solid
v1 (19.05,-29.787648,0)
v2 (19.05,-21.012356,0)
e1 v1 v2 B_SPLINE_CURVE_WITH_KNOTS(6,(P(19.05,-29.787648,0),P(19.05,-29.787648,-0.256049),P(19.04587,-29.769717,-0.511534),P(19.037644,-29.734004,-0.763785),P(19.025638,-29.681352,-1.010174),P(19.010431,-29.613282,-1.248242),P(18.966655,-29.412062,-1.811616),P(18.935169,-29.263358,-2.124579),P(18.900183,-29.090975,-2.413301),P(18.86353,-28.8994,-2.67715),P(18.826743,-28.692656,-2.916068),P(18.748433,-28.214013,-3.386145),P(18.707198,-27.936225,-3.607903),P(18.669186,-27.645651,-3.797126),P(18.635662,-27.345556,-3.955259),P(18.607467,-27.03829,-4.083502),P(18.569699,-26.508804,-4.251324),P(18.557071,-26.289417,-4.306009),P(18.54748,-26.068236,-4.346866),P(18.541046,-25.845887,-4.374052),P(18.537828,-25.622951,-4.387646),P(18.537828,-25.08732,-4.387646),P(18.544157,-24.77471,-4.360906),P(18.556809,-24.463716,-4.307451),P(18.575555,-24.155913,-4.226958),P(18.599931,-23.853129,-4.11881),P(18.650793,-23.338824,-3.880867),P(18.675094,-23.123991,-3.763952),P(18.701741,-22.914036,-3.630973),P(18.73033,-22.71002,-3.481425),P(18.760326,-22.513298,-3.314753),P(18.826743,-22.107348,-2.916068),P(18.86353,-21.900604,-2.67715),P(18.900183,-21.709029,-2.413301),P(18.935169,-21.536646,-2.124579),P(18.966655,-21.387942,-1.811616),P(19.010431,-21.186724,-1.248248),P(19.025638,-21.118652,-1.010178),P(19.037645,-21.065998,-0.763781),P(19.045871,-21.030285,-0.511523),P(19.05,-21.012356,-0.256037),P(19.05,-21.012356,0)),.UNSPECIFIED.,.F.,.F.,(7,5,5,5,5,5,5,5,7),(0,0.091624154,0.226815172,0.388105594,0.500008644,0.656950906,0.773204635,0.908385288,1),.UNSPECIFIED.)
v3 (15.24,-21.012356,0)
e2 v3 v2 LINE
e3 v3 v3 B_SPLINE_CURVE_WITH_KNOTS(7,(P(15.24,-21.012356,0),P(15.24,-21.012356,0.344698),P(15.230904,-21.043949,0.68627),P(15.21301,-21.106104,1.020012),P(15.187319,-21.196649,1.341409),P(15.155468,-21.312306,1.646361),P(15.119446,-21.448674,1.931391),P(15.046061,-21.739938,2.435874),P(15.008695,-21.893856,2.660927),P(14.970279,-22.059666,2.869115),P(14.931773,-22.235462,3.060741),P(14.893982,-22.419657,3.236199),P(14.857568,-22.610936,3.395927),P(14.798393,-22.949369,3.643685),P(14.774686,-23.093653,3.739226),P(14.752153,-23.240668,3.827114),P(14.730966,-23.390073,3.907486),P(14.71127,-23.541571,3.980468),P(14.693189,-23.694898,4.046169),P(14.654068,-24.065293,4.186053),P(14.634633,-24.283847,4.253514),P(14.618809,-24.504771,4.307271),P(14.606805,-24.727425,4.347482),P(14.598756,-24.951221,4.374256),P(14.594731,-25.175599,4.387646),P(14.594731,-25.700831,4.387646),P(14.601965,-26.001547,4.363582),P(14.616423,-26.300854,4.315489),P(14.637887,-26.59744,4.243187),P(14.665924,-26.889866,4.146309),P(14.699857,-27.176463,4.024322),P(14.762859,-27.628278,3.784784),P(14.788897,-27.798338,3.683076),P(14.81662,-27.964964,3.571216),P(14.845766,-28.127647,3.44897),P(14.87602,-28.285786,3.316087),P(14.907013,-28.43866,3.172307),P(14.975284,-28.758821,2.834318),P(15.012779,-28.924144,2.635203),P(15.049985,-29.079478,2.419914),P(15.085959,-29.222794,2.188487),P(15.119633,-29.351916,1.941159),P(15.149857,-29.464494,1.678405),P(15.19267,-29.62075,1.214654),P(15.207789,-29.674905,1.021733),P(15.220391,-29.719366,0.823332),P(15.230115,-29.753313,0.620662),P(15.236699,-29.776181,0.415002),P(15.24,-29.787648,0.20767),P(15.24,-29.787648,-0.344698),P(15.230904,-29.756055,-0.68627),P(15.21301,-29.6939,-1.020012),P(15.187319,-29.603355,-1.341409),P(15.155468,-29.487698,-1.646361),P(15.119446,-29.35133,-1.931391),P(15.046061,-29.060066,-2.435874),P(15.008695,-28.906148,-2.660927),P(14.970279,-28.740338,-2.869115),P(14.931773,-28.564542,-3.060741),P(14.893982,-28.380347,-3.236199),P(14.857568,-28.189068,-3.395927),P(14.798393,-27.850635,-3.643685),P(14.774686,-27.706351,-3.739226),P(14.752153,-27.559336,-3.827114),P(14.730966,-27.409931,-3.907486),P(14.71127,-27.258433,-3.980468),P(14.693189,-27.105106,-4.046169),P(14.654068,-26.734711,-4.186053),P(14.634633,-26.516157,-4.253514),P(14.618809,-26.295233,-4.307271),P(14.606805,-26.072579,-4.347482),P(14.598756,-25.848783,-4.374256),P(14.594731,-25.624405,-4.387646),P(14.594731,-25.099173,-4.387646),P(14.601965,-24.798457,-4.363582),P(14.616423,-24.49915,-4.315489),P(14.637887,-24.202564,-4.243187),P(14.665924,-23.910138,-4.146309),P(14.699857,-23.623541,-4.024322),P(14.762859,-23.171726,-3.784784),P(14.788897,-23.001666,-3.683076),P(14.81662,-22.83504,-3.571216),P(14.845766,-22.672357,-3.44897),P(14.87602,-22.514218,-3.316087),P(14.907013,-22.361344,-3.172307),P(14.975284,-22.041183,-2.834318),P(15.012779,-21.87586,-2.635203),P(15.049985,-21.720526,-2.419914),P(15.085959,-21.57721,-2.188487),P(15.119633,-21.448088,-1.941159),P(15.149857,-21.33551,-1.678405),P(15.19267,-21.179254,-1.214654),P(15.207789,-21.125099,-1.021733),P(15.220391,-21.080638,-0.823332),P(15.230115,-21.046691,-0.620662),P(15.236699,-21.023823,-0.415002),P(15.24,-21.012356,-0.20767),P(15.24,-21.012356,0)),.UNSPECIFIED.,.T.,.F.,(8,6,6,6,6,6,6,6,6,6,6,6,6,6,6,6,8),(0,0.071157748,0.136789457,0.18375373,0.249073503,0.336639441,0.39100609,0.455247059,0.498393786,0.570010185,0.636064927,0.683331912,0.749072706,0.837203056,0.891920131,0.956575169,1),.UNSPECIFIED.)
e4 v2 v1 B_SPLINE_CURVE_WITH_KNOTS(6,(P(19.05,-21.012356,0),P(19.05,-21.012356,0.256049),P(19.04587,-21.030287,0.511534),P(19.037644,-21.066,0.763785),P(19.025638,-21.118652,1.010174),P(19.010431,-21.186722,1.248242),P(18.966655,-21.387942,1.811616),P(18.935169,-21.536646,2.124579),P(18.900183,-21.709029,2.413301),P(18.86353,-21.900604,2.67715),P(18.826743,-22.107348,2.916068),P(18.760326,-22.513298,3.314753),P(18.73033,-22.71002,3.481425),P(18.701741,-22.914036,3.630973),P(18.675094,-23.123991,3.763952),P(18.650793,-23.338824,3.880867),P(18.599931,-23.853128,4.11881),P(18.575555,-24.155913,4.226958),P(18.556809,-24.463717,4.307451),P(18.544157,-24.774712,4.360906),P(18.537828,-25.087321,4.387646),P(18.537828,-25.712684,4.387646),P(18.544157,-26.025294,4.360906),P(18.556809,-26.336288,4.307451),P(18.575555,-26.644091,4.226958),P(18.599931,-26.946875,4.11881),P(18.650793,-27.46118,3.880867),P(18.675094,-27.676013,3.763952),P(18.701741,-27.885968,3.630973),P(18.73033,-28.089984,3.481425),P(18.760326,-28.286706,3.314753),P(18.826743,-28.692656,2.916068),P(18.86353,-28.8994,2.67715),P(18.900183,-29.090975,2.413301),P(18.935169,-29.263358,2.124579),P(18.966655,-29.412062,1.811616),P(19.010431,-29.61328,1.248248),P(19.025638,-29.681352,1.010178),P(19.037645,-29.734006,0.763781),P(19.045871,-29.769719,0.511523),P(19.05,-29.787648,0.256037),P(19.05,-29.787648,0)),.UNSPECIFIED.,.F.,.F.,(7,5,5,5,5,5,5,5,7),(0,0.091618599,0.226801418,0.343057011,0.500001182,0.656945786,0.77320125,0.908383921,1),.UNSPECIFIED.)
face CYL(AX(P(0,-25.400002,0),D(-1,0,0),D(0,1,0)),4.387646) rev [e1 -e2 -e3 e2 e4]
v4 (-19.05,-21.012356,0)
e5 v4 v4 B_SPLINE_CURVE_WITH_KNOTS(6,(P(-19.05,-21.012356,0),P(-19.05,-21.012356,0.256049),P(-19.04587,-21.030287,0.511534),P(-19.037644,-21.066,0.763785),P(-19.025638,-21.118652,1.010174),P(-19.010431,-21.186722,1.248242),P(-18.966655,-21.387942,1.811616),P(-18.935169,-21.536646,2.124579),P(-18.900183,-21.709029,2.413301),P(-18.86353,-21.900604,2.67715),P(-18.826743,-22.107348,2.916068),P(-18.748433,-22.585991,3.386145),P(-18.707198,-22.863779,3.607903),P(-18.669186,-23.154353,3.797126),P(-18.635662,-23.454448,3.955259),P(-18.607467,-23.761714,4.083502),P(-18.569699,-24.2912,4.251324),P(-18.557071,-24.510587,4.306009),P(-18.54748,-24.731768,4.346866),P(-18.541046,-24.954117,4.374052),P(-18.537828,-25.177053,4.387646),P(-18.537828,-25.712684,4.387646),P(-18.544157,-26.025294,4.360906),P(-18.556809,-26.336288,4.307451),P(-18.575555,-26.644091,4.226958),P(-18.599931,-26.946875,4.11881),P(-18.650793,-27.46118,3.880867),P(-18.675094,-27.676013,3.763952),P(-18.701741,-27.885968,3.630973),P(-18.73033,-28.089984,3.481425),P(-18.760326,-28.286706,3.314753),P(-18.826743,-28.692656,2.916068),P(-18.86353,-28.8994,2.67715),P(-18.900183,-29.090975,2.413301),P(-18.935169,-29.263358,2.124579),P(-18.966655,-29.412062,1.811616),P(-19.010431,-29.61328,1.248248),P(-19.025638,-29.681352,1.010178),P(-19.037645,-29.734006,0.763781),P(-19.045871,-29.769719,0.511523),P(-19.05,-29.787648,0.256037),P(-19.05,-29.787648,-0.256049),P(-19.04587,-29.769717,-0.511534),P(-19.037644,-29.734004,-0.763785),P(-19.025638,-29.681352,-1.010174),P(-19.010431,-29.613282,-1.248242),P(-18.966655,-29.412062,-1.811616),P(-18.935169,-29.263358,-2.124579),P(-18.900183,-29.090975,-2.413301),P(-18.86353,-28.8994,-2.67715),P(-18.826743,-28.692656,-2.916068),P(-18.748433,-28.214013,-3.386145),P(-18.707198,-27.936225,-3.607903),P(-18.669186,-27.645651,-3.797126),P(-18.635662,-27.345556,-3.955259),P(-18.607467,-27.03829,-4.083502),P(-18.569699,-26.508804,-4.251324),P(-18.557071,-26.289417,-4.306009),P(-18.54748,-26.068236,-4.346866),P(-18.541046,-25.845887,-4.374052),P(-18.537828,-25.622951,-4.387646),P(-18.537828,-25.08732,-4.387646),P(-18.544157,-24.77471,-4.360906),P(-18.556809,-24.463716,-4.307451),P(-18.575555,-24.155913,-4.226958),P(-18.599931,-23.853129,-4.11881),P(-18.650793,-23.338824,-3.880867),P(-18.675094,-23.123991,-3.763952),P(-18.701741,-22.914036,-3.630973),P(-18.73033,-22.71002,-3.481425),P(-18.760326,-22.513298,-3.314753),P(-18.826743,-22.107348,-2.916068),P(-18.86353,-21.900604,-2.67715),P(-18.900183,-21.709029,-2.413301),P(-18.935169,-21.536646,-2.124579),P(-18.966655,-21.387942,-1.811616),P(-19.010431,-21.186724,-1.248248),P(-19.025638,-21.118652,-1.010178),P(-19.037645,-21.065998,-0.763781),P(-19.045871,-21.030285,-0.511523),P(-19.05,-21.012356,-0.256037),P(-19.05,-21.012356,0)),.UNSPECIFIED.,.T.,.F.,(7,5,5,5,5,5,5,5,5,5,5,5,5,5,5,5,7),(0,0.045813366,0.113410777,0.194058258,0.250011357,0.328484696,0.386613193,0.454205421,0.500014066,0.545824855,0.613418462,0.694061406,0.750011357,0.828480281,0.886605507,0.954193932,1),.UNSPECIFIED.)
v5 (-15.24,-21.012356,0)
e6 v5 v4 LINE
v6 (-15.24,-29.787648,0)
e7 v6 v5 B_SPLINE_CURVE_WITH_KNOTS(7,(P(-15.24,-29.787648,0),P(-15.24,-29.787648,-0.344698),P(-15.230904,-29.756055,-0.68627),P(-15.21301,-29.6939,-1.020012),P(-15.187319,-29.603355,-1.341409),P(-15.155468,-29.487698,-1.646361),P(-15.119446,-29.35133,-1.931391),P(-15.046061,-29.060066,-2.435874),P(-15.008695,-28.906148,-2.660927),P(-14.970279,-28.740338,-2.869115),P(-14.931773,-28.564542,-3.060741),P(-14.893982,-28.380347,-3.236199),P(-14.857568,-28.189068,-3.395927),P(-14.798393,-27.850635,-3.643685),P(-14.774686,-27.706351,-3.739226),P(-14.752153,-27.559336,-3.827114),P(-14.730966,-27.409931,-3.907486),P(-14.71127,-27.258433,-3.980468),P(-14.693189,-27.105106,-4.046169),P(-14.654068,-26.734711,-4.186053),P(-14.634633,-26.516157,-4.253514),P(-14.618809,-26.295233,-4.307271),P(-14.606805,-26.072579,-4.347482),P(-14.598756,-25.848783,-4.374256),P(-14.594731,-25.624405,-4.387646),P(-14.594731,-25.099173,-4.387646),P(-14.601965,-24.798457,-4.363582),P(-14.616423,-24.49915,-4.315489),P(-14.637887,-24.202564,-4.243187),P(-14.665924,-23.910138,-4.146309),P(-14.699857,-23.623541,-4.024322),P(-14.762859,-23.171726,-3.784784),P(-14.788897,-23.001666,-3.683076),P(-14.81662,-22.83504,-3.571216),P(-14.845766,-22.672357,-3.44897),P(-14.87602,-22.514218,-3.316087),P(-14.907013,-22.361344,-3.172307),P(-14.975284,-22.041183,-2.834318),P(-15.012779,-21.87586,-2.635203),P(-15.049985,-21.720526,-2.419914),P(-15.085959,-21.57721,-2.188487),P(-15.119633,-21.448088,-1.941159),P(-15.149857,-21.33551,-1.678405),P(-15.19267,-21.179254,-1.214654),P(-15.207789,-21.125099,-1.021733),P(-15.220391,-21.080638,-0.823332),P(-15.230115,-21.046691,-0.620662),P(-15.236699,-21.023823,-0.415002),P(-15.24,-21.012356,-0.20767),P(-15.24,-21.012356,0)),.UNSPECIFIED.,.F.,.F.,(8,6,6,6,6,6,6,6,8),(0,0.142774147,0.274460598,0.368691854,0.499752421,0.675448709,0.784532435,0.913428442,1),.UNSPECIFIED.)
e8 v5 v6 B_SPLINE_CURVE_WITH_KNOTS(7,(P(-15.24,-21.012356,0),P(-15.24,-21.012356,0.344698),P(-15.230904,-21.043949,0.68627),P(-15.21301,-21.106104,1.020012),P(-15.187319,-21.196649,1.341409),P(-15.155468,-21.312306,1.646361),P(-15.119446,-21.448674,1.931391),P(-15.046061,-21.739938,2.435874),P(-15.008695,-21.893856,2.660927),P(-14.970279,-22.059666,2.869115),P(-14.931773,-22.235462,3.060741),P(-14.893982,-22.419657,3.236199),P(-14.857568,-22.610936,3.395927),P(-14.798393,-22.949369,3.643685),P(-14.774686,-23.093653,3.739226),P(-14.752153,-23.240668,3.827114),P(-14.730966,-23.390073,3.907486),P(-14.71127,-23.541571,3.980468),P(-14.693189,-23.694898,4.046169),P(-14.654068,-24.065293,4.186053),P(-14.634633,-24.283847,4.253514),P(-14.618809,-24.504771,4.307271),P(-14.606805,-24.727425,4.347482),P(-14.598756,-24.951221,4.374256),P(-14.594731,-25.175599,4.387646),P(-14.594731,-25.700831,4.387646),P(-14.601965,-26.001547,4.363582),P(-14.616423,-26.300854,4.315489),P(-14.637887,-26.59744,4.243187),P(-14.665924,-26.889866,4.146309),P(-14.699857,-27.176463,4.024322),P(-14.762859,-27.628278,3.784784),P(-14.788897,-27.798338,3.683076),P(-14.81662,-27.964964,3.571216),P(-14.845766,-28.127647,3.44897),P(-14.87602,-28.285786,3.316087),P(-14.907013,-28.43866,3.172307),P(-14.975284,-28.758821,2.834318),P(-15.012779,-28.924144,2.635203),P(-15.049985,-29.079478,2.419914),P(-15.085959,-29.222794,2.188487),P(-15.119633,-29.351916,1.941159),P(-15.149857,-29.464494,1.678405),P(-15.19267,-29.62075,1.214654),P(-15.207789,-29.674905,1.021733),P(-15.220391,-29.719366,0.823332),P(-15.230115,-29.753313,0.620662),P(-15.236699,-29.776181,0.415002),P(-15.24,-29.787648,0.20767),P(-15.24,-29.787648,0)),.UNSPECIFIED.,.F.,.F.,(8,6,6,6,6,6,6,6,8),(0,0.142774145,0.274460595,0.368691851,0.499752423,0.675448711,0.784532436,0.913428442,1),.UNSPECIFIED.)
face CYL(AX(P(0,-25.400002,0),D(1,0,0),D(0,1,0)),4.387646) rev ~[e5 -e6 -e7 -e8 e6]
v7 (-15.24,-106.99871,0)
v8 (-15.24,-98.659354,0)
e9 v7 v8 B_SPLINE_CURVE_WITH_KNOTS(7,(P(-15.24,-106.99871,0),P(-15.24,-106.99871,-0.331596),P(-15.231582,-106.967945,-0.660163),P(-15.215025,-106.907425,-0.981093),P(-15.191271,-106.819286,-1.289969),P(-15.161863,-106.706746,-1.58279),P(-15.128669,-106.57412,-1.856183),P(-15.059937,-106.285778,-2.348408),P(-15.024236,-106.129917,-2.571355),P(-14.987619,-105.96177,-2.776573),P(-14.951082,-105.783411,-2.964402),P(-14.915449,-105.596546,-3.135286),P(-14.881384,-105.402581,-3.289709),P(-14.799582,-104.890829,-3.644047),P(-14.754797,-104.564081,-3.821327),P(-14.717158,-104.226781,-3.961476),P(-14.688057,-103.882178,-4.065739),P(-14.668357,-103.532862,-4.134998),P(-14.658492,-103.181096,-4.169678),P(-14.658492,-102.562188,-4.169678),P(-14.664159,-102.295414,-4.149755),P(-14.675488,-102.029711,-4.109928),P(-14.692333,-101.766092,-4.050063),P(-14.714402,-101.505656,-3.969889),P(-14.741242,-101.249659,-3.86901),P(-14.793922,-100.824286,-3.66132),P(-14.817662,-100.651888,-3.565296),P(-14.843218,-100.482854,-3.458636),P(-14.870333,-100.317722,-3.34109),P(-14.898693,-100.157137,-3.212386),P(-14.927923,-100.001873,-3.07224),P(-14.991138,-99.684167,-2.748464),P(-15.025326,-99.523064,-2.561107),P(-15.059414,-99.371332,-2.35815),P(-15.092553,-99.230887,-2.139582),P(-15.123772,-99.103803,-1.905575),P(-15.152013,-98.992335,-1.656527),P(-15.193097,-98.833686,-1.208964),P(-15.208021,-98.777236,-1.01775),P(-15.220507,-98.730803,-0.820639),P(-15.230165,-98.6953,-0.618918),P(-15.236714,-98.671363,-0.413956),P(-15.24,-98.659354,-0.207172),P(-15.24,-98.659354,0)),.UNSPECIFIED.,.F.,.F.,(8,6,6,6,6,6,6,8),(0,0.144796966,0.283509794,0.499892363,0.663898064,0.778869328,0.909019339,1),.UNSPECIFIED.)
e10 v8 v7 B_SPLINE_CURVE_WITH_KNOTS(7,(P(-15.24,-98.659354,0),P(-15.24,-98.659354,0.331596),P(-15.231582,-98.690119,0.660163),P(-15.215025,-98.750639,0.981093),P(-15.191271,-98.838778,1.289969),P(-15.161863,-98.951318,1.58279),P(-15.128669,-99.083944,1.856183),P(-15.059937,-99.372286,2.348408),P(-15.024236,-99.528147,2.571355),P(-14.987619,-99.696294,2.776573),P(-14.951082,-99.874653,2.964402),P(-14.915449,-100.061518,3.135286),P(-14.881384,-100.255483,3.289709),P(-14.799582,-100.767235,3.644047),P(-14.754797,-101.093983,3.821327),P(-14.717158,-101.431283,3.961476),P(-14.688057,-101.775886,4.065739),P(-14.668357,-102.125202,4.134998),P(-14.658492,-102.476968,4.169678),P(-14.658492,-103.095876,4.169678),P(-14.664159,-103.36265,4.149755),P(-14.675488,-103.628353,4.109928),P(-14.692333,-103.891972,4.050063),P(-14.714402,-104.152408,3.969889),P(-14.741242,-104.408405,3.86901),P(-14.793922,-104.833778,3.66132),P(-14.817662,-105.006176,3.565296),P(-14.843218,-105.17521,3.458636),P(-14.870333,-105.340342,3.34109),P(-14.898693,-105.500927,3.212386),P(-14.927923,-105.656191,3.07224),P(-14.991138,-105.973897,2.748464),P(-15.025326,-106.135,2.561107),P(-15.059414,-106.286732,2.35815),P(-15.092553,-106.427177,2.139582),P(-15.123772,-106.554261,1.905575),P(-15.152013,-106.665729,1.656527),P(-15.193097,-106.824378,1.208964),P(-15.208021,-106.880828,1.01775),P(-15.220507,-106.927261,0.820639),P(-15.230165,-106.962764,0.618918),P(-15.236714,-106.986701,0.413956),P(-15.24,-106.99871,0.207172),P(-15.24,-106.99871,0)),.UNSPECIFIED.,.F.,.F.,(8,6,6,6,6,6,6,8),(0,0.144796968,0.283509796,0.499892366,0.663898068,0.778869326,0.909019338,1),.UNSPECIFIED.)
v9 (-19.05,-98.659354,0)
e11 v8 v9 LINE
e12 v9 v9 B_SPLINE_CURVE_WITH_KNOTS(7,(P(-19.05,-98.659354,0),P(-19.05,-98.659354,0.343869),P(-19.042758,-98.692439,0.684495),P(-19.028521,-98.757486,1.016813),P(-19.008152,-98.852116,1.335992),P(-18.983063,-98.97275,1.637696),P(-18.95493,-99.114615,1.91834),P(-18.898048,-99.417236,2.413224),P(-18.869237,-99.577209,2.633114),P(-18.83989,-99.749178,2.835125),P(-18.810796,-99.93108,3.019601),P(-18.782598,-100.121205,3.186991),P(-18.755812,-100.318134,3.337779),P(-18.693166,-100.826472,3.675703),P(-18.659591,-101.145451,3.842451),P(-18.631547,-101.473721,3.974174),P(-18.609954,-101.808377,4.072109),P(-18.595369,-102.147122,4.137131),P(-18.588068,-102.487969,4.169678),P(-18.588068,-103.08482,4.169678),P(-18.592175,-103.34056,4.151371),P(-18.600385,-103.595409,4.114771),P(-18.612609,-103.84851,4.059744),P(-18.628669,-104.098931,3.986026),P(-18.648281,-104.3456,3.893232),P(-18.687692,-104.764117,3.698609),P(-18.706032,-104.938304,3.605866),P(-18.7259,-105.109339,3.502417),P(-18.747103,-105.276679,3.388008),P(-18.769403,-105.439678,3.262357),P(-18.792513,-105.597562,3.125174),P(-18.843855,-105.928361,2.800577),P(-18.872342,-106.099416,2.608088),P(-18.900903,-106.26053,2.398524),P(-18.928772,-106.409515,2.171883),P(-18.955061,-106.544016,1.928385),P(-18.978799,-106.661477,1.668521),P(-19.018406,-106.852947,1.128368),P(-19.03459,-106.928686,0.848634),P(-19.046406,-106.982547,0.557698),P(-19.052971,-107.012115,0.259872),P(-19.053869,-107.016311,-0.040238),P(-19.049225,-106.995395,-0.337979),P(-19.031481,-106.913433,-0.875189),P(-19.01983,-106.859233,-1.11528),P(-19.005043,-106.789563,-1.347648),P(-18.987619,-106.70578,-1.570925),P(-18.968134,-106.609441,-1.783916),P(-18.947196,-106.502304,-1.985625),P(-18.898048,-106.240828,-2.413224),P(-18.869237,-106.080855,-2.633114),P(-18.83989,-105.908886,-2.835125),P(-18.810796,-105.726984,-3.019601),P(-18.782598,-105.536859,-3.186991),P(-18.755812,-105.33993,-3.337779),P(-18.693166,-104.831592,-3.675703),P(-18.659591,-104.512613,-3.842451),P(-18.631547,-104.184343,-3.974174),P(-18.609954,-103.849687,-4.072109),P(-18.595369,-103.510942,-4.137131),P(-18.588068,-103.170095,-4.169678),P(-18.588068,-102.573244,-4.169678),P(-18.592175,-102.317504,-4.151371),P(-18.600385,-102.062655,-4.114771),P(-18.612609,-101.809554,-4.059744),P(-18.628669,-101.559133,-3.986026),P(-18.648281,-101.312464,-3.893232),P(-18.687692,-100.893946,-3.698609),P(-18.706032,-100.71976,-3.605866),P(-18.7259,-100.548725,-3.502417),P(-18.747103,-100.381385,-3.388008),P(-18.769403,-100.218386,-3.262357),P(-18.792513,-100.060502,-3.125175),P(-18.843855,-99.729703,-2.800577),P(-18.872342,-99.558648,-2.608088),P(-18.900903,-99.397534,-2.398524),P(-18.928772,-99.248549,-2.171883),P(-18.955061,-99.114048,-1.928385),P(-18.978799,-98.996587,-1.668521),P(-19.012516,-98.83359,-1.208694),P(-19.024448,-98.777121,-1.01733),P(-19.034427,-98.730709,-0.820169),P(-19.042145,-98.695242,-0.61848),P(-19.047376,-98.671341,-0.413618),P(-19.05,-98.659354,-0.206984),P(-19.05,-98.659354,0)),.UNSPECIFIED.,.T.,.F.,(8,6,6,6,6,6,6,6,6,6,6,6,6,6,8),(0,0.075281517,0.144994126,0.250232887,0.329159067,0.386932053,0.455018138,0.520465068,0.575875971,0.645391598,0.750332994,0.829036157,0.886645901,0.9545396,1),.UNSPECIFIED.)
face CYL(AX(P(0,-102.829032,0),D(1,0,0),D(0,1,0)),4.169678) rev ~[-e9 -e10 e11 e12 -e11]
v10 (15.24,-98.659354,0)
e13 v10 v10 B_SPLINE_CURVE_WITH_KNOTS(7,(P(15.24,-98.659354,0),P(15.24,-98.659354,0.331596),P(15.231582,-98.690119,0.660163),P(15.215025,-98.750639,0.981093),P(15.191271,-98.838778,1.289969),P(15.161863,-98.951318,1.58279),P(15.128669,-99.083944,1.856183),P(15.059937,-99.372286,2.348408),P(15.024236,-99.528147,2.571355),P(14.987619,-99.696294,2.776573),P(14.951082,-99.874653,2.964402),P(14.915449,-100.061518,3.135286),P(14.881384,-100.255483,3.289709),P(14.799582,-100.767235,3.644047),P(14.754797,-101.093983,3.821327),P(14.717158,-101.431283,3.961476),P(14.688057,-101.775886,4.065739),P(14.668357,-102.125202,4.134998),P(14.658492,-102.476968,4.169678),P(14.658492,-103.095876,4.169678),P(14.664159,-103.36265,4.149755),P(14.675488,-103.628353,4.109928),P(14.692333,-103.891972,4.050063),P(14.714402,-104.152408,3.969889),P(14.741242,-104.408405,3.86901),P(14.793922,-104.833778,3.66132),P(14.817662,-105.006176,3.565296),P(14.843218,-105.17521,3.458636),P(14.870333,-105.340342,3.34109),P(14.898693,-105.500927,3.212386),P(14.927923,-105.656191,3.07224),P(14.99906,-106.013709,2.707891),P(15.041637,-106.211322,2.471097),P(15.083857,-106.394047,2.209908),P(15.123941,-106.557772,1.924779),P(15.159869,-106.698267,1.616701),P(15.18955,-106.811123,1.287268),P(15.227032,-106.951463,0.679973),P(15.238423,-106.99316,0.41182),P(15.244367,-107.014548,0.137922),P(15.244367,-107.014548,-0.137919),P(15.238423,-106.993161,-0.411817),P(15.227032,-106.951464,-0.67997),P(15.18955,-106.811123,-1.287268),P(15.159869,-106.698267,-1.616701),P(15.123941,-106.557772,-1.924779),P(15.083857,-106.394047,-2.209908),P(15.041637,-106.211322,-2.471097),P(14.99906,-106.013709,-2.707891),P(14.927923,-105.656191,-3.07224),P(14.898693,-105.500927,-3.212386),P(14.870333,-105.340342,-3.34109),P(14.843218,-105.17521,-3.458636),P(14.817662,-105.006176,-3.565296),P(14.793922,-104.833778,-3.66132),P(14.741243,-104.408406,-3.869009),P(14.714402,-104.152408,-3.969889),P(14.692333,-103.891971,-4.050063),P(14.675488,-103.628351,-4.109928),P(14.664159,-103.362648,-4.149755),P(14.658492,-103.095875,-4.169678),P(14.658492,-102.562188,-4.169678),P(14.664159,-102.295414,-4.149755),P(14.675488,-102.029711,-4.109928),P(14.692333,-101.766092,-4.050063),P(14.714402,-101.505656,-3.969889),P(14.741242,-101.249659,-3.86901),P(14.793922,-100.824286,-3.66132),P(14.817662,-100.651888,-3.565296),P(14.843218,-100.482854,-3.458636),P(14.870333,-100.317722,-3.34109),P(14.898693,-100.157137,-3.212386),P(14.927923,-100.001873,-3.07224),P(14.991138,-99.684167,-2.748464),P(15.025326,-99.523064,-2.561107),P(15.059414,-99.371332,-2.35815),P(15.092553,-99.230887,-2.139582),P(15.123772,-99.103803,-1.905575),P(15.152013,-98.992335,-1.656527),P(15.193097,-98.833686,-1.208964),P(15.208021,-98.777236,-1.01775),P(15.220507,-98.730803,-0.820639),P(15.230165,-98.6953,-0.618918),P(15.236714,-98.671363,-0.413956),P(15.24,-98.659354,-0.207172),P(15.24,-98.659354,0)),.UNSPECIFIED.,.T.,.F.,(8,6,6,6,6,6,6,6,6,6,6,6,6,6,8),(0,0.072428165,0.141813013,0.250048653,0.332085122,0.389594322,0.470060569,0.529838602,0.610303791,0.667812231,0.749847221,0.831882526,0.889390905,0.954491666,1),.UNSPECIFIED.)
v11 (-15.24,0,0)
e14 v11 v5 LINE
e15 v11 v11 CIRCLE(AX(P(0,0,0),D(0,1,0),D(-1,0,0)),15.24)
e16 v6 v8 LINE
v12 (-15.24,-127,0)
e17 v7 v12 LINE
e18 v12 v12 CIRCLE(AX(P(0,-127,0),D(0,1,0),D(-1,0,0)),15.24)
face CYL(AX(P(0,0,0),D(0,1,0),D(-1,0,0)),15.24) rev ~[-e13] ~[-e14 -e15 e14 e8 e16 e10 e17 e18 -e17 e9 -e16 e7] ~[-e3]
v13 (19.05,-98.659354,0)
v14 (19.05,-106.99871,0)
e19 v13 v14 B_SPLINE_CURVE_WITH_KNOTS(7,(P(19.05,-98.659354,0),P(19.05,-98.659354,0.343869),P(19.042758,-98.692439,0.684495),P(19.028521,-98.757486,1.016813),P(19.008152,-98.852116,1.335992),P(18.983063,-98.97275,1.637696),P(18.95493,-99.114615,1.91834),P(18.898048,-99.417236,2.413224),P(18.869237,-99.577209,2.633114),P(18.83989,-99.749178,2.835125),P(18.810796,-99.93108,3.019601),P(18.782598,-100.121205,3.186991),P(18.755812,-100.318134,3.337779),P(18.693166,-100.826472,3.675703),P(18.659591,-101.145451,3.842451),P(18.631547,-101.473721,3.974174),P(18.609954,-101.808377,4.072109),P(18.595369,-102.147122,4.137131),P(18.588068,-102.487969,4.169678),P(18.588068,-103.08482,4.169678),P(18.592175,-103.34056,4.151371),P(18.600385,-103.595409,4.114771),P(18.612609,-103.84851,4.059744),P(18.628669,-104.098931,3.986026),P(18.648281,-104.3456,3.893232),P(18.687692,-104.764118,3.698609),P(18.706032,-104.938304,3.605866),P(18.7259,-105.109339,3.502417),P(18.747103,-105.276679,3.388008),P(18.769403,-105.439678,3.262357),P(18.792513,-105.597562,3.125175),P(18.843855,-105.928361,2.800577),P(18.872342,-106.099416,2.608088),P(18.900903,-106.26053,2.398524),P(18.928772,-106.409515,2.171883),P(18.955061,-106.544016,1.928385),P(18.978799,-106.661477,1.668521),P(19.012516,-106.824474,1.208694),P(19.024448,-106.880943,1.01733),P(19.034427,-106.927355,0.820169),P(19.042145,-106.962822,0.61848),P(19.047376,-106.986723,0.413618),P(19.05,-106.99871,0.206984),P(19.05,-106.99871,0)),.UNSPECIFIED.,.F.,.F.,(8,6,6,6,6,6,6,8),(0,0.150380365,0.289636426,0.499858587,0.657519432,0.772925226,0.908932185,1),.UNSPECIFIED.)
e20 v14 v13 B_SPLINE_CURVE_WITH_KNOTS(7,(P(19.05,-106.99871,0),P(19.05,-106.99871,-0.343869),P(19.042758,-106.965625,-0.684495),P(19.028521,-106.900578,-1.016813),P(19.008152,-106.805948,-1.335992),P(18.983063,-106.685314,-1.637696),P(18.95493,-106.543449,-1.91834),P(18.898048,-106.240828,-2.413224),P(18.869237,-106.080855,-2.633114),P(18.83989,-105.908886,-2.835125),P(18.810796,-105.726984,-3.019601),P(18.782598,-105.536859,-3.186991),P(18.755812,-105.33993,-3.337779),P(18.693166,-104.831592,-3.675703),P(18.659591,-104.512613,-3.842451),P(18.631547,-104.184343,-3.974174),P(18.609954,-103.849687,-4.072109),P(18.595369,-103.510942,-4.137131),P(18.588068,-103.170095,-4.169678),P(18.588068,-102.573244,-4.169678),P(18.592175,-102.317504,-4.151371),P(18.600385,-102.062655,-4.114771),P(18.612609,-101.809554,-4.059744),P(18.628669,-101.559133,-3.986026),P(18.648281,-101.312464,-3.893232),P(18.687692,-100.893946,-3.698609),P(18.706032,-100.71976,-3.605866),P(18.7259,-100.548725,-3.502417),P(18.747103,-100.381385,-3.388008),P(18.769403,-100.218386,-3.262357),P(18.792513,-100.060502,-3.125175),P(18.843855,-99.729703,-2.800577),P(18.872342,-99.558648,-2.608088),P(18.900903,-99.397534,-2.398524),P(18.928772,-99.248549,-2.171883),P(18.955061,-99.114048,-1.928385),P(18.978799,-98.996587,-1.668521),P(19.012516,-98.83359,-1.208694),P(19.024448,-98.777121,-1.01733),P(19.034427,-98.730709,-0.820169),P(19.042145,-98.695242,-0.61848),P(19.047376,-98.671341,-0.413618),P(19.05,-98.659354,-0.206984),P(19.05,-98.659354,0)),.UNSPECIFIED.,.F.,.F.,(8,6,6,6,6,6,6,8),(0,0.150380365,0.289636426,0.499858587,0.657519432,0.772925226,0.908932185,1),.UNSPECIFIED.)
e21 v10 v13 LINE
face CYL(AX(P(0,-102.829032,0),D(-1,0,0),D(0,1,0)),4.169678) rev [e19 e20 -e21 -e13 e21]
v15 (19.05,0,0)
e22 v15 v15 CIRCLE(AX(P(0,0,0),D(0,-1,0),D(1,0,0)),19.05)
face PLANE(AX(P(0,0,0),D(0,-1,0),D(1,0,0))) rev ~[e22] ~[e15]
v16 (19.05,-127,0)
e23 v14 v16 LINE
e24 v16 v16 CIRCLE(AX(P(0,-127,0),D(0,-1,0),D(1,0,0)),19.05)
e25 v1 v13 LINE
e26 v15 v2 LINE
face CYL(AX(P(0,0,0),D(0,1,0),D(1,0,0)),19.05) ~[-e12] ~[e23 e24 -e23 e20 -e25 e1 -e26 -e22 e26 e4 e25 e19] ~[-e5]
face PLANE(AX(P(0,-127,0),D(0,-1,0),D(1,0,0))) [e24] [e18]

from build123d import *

# Parameters (mm, degrees)
F0_R     = 19.05
F1_DEPTH = 127
F2_R     = 15.24
F3_DEPTH = 127
F4_R     = 4.169678
F4_R_2   = 4.387646
F5_DEPTH = 50.8
F6_DEPTH = 25.4


with BuildPart() as f1:
    # F0 (on Front) → F1 (new body)
    with BuildSketch(Plane.XZ):
        Circle(F0_R)
    extrude(amount=F1_DEPTH)

    # F2 (on face) → F3 (cut)
    with BuildSketch(Plane(origin=(0, 0, 0), x_dir=(-1, 0, 0), z_dir=(0, 1, 0))):
        Circle(F2_R)
    extrude(amount=-F3_DEPTH, mode=Mode.SUBTRACT)

    # F4 (on Right) → F5 (cut)
    with BuildSketch(Plane.YZ):
        with Locations((-102.829032, 0)):
            Circle(F4_R)
        with Locations((-25.400002, 0)):
            Circle(F4_R_2)
    extrude(amount=-F5_DEPTH, mode=Mode.SUBTRACT)

    # F4 (on Right) → F6 (cut)
    with BuildSketch(Plane.YZ):
        with Locations((-102.829032, 0)):
            Circle(F4_R)
        with Locations((-25.400002, 0)):
            Circle(F4_R_2)
    extrude(amount=F6_DEPTH, mode=Mode.SUBTRACT)


solid = f1.part
